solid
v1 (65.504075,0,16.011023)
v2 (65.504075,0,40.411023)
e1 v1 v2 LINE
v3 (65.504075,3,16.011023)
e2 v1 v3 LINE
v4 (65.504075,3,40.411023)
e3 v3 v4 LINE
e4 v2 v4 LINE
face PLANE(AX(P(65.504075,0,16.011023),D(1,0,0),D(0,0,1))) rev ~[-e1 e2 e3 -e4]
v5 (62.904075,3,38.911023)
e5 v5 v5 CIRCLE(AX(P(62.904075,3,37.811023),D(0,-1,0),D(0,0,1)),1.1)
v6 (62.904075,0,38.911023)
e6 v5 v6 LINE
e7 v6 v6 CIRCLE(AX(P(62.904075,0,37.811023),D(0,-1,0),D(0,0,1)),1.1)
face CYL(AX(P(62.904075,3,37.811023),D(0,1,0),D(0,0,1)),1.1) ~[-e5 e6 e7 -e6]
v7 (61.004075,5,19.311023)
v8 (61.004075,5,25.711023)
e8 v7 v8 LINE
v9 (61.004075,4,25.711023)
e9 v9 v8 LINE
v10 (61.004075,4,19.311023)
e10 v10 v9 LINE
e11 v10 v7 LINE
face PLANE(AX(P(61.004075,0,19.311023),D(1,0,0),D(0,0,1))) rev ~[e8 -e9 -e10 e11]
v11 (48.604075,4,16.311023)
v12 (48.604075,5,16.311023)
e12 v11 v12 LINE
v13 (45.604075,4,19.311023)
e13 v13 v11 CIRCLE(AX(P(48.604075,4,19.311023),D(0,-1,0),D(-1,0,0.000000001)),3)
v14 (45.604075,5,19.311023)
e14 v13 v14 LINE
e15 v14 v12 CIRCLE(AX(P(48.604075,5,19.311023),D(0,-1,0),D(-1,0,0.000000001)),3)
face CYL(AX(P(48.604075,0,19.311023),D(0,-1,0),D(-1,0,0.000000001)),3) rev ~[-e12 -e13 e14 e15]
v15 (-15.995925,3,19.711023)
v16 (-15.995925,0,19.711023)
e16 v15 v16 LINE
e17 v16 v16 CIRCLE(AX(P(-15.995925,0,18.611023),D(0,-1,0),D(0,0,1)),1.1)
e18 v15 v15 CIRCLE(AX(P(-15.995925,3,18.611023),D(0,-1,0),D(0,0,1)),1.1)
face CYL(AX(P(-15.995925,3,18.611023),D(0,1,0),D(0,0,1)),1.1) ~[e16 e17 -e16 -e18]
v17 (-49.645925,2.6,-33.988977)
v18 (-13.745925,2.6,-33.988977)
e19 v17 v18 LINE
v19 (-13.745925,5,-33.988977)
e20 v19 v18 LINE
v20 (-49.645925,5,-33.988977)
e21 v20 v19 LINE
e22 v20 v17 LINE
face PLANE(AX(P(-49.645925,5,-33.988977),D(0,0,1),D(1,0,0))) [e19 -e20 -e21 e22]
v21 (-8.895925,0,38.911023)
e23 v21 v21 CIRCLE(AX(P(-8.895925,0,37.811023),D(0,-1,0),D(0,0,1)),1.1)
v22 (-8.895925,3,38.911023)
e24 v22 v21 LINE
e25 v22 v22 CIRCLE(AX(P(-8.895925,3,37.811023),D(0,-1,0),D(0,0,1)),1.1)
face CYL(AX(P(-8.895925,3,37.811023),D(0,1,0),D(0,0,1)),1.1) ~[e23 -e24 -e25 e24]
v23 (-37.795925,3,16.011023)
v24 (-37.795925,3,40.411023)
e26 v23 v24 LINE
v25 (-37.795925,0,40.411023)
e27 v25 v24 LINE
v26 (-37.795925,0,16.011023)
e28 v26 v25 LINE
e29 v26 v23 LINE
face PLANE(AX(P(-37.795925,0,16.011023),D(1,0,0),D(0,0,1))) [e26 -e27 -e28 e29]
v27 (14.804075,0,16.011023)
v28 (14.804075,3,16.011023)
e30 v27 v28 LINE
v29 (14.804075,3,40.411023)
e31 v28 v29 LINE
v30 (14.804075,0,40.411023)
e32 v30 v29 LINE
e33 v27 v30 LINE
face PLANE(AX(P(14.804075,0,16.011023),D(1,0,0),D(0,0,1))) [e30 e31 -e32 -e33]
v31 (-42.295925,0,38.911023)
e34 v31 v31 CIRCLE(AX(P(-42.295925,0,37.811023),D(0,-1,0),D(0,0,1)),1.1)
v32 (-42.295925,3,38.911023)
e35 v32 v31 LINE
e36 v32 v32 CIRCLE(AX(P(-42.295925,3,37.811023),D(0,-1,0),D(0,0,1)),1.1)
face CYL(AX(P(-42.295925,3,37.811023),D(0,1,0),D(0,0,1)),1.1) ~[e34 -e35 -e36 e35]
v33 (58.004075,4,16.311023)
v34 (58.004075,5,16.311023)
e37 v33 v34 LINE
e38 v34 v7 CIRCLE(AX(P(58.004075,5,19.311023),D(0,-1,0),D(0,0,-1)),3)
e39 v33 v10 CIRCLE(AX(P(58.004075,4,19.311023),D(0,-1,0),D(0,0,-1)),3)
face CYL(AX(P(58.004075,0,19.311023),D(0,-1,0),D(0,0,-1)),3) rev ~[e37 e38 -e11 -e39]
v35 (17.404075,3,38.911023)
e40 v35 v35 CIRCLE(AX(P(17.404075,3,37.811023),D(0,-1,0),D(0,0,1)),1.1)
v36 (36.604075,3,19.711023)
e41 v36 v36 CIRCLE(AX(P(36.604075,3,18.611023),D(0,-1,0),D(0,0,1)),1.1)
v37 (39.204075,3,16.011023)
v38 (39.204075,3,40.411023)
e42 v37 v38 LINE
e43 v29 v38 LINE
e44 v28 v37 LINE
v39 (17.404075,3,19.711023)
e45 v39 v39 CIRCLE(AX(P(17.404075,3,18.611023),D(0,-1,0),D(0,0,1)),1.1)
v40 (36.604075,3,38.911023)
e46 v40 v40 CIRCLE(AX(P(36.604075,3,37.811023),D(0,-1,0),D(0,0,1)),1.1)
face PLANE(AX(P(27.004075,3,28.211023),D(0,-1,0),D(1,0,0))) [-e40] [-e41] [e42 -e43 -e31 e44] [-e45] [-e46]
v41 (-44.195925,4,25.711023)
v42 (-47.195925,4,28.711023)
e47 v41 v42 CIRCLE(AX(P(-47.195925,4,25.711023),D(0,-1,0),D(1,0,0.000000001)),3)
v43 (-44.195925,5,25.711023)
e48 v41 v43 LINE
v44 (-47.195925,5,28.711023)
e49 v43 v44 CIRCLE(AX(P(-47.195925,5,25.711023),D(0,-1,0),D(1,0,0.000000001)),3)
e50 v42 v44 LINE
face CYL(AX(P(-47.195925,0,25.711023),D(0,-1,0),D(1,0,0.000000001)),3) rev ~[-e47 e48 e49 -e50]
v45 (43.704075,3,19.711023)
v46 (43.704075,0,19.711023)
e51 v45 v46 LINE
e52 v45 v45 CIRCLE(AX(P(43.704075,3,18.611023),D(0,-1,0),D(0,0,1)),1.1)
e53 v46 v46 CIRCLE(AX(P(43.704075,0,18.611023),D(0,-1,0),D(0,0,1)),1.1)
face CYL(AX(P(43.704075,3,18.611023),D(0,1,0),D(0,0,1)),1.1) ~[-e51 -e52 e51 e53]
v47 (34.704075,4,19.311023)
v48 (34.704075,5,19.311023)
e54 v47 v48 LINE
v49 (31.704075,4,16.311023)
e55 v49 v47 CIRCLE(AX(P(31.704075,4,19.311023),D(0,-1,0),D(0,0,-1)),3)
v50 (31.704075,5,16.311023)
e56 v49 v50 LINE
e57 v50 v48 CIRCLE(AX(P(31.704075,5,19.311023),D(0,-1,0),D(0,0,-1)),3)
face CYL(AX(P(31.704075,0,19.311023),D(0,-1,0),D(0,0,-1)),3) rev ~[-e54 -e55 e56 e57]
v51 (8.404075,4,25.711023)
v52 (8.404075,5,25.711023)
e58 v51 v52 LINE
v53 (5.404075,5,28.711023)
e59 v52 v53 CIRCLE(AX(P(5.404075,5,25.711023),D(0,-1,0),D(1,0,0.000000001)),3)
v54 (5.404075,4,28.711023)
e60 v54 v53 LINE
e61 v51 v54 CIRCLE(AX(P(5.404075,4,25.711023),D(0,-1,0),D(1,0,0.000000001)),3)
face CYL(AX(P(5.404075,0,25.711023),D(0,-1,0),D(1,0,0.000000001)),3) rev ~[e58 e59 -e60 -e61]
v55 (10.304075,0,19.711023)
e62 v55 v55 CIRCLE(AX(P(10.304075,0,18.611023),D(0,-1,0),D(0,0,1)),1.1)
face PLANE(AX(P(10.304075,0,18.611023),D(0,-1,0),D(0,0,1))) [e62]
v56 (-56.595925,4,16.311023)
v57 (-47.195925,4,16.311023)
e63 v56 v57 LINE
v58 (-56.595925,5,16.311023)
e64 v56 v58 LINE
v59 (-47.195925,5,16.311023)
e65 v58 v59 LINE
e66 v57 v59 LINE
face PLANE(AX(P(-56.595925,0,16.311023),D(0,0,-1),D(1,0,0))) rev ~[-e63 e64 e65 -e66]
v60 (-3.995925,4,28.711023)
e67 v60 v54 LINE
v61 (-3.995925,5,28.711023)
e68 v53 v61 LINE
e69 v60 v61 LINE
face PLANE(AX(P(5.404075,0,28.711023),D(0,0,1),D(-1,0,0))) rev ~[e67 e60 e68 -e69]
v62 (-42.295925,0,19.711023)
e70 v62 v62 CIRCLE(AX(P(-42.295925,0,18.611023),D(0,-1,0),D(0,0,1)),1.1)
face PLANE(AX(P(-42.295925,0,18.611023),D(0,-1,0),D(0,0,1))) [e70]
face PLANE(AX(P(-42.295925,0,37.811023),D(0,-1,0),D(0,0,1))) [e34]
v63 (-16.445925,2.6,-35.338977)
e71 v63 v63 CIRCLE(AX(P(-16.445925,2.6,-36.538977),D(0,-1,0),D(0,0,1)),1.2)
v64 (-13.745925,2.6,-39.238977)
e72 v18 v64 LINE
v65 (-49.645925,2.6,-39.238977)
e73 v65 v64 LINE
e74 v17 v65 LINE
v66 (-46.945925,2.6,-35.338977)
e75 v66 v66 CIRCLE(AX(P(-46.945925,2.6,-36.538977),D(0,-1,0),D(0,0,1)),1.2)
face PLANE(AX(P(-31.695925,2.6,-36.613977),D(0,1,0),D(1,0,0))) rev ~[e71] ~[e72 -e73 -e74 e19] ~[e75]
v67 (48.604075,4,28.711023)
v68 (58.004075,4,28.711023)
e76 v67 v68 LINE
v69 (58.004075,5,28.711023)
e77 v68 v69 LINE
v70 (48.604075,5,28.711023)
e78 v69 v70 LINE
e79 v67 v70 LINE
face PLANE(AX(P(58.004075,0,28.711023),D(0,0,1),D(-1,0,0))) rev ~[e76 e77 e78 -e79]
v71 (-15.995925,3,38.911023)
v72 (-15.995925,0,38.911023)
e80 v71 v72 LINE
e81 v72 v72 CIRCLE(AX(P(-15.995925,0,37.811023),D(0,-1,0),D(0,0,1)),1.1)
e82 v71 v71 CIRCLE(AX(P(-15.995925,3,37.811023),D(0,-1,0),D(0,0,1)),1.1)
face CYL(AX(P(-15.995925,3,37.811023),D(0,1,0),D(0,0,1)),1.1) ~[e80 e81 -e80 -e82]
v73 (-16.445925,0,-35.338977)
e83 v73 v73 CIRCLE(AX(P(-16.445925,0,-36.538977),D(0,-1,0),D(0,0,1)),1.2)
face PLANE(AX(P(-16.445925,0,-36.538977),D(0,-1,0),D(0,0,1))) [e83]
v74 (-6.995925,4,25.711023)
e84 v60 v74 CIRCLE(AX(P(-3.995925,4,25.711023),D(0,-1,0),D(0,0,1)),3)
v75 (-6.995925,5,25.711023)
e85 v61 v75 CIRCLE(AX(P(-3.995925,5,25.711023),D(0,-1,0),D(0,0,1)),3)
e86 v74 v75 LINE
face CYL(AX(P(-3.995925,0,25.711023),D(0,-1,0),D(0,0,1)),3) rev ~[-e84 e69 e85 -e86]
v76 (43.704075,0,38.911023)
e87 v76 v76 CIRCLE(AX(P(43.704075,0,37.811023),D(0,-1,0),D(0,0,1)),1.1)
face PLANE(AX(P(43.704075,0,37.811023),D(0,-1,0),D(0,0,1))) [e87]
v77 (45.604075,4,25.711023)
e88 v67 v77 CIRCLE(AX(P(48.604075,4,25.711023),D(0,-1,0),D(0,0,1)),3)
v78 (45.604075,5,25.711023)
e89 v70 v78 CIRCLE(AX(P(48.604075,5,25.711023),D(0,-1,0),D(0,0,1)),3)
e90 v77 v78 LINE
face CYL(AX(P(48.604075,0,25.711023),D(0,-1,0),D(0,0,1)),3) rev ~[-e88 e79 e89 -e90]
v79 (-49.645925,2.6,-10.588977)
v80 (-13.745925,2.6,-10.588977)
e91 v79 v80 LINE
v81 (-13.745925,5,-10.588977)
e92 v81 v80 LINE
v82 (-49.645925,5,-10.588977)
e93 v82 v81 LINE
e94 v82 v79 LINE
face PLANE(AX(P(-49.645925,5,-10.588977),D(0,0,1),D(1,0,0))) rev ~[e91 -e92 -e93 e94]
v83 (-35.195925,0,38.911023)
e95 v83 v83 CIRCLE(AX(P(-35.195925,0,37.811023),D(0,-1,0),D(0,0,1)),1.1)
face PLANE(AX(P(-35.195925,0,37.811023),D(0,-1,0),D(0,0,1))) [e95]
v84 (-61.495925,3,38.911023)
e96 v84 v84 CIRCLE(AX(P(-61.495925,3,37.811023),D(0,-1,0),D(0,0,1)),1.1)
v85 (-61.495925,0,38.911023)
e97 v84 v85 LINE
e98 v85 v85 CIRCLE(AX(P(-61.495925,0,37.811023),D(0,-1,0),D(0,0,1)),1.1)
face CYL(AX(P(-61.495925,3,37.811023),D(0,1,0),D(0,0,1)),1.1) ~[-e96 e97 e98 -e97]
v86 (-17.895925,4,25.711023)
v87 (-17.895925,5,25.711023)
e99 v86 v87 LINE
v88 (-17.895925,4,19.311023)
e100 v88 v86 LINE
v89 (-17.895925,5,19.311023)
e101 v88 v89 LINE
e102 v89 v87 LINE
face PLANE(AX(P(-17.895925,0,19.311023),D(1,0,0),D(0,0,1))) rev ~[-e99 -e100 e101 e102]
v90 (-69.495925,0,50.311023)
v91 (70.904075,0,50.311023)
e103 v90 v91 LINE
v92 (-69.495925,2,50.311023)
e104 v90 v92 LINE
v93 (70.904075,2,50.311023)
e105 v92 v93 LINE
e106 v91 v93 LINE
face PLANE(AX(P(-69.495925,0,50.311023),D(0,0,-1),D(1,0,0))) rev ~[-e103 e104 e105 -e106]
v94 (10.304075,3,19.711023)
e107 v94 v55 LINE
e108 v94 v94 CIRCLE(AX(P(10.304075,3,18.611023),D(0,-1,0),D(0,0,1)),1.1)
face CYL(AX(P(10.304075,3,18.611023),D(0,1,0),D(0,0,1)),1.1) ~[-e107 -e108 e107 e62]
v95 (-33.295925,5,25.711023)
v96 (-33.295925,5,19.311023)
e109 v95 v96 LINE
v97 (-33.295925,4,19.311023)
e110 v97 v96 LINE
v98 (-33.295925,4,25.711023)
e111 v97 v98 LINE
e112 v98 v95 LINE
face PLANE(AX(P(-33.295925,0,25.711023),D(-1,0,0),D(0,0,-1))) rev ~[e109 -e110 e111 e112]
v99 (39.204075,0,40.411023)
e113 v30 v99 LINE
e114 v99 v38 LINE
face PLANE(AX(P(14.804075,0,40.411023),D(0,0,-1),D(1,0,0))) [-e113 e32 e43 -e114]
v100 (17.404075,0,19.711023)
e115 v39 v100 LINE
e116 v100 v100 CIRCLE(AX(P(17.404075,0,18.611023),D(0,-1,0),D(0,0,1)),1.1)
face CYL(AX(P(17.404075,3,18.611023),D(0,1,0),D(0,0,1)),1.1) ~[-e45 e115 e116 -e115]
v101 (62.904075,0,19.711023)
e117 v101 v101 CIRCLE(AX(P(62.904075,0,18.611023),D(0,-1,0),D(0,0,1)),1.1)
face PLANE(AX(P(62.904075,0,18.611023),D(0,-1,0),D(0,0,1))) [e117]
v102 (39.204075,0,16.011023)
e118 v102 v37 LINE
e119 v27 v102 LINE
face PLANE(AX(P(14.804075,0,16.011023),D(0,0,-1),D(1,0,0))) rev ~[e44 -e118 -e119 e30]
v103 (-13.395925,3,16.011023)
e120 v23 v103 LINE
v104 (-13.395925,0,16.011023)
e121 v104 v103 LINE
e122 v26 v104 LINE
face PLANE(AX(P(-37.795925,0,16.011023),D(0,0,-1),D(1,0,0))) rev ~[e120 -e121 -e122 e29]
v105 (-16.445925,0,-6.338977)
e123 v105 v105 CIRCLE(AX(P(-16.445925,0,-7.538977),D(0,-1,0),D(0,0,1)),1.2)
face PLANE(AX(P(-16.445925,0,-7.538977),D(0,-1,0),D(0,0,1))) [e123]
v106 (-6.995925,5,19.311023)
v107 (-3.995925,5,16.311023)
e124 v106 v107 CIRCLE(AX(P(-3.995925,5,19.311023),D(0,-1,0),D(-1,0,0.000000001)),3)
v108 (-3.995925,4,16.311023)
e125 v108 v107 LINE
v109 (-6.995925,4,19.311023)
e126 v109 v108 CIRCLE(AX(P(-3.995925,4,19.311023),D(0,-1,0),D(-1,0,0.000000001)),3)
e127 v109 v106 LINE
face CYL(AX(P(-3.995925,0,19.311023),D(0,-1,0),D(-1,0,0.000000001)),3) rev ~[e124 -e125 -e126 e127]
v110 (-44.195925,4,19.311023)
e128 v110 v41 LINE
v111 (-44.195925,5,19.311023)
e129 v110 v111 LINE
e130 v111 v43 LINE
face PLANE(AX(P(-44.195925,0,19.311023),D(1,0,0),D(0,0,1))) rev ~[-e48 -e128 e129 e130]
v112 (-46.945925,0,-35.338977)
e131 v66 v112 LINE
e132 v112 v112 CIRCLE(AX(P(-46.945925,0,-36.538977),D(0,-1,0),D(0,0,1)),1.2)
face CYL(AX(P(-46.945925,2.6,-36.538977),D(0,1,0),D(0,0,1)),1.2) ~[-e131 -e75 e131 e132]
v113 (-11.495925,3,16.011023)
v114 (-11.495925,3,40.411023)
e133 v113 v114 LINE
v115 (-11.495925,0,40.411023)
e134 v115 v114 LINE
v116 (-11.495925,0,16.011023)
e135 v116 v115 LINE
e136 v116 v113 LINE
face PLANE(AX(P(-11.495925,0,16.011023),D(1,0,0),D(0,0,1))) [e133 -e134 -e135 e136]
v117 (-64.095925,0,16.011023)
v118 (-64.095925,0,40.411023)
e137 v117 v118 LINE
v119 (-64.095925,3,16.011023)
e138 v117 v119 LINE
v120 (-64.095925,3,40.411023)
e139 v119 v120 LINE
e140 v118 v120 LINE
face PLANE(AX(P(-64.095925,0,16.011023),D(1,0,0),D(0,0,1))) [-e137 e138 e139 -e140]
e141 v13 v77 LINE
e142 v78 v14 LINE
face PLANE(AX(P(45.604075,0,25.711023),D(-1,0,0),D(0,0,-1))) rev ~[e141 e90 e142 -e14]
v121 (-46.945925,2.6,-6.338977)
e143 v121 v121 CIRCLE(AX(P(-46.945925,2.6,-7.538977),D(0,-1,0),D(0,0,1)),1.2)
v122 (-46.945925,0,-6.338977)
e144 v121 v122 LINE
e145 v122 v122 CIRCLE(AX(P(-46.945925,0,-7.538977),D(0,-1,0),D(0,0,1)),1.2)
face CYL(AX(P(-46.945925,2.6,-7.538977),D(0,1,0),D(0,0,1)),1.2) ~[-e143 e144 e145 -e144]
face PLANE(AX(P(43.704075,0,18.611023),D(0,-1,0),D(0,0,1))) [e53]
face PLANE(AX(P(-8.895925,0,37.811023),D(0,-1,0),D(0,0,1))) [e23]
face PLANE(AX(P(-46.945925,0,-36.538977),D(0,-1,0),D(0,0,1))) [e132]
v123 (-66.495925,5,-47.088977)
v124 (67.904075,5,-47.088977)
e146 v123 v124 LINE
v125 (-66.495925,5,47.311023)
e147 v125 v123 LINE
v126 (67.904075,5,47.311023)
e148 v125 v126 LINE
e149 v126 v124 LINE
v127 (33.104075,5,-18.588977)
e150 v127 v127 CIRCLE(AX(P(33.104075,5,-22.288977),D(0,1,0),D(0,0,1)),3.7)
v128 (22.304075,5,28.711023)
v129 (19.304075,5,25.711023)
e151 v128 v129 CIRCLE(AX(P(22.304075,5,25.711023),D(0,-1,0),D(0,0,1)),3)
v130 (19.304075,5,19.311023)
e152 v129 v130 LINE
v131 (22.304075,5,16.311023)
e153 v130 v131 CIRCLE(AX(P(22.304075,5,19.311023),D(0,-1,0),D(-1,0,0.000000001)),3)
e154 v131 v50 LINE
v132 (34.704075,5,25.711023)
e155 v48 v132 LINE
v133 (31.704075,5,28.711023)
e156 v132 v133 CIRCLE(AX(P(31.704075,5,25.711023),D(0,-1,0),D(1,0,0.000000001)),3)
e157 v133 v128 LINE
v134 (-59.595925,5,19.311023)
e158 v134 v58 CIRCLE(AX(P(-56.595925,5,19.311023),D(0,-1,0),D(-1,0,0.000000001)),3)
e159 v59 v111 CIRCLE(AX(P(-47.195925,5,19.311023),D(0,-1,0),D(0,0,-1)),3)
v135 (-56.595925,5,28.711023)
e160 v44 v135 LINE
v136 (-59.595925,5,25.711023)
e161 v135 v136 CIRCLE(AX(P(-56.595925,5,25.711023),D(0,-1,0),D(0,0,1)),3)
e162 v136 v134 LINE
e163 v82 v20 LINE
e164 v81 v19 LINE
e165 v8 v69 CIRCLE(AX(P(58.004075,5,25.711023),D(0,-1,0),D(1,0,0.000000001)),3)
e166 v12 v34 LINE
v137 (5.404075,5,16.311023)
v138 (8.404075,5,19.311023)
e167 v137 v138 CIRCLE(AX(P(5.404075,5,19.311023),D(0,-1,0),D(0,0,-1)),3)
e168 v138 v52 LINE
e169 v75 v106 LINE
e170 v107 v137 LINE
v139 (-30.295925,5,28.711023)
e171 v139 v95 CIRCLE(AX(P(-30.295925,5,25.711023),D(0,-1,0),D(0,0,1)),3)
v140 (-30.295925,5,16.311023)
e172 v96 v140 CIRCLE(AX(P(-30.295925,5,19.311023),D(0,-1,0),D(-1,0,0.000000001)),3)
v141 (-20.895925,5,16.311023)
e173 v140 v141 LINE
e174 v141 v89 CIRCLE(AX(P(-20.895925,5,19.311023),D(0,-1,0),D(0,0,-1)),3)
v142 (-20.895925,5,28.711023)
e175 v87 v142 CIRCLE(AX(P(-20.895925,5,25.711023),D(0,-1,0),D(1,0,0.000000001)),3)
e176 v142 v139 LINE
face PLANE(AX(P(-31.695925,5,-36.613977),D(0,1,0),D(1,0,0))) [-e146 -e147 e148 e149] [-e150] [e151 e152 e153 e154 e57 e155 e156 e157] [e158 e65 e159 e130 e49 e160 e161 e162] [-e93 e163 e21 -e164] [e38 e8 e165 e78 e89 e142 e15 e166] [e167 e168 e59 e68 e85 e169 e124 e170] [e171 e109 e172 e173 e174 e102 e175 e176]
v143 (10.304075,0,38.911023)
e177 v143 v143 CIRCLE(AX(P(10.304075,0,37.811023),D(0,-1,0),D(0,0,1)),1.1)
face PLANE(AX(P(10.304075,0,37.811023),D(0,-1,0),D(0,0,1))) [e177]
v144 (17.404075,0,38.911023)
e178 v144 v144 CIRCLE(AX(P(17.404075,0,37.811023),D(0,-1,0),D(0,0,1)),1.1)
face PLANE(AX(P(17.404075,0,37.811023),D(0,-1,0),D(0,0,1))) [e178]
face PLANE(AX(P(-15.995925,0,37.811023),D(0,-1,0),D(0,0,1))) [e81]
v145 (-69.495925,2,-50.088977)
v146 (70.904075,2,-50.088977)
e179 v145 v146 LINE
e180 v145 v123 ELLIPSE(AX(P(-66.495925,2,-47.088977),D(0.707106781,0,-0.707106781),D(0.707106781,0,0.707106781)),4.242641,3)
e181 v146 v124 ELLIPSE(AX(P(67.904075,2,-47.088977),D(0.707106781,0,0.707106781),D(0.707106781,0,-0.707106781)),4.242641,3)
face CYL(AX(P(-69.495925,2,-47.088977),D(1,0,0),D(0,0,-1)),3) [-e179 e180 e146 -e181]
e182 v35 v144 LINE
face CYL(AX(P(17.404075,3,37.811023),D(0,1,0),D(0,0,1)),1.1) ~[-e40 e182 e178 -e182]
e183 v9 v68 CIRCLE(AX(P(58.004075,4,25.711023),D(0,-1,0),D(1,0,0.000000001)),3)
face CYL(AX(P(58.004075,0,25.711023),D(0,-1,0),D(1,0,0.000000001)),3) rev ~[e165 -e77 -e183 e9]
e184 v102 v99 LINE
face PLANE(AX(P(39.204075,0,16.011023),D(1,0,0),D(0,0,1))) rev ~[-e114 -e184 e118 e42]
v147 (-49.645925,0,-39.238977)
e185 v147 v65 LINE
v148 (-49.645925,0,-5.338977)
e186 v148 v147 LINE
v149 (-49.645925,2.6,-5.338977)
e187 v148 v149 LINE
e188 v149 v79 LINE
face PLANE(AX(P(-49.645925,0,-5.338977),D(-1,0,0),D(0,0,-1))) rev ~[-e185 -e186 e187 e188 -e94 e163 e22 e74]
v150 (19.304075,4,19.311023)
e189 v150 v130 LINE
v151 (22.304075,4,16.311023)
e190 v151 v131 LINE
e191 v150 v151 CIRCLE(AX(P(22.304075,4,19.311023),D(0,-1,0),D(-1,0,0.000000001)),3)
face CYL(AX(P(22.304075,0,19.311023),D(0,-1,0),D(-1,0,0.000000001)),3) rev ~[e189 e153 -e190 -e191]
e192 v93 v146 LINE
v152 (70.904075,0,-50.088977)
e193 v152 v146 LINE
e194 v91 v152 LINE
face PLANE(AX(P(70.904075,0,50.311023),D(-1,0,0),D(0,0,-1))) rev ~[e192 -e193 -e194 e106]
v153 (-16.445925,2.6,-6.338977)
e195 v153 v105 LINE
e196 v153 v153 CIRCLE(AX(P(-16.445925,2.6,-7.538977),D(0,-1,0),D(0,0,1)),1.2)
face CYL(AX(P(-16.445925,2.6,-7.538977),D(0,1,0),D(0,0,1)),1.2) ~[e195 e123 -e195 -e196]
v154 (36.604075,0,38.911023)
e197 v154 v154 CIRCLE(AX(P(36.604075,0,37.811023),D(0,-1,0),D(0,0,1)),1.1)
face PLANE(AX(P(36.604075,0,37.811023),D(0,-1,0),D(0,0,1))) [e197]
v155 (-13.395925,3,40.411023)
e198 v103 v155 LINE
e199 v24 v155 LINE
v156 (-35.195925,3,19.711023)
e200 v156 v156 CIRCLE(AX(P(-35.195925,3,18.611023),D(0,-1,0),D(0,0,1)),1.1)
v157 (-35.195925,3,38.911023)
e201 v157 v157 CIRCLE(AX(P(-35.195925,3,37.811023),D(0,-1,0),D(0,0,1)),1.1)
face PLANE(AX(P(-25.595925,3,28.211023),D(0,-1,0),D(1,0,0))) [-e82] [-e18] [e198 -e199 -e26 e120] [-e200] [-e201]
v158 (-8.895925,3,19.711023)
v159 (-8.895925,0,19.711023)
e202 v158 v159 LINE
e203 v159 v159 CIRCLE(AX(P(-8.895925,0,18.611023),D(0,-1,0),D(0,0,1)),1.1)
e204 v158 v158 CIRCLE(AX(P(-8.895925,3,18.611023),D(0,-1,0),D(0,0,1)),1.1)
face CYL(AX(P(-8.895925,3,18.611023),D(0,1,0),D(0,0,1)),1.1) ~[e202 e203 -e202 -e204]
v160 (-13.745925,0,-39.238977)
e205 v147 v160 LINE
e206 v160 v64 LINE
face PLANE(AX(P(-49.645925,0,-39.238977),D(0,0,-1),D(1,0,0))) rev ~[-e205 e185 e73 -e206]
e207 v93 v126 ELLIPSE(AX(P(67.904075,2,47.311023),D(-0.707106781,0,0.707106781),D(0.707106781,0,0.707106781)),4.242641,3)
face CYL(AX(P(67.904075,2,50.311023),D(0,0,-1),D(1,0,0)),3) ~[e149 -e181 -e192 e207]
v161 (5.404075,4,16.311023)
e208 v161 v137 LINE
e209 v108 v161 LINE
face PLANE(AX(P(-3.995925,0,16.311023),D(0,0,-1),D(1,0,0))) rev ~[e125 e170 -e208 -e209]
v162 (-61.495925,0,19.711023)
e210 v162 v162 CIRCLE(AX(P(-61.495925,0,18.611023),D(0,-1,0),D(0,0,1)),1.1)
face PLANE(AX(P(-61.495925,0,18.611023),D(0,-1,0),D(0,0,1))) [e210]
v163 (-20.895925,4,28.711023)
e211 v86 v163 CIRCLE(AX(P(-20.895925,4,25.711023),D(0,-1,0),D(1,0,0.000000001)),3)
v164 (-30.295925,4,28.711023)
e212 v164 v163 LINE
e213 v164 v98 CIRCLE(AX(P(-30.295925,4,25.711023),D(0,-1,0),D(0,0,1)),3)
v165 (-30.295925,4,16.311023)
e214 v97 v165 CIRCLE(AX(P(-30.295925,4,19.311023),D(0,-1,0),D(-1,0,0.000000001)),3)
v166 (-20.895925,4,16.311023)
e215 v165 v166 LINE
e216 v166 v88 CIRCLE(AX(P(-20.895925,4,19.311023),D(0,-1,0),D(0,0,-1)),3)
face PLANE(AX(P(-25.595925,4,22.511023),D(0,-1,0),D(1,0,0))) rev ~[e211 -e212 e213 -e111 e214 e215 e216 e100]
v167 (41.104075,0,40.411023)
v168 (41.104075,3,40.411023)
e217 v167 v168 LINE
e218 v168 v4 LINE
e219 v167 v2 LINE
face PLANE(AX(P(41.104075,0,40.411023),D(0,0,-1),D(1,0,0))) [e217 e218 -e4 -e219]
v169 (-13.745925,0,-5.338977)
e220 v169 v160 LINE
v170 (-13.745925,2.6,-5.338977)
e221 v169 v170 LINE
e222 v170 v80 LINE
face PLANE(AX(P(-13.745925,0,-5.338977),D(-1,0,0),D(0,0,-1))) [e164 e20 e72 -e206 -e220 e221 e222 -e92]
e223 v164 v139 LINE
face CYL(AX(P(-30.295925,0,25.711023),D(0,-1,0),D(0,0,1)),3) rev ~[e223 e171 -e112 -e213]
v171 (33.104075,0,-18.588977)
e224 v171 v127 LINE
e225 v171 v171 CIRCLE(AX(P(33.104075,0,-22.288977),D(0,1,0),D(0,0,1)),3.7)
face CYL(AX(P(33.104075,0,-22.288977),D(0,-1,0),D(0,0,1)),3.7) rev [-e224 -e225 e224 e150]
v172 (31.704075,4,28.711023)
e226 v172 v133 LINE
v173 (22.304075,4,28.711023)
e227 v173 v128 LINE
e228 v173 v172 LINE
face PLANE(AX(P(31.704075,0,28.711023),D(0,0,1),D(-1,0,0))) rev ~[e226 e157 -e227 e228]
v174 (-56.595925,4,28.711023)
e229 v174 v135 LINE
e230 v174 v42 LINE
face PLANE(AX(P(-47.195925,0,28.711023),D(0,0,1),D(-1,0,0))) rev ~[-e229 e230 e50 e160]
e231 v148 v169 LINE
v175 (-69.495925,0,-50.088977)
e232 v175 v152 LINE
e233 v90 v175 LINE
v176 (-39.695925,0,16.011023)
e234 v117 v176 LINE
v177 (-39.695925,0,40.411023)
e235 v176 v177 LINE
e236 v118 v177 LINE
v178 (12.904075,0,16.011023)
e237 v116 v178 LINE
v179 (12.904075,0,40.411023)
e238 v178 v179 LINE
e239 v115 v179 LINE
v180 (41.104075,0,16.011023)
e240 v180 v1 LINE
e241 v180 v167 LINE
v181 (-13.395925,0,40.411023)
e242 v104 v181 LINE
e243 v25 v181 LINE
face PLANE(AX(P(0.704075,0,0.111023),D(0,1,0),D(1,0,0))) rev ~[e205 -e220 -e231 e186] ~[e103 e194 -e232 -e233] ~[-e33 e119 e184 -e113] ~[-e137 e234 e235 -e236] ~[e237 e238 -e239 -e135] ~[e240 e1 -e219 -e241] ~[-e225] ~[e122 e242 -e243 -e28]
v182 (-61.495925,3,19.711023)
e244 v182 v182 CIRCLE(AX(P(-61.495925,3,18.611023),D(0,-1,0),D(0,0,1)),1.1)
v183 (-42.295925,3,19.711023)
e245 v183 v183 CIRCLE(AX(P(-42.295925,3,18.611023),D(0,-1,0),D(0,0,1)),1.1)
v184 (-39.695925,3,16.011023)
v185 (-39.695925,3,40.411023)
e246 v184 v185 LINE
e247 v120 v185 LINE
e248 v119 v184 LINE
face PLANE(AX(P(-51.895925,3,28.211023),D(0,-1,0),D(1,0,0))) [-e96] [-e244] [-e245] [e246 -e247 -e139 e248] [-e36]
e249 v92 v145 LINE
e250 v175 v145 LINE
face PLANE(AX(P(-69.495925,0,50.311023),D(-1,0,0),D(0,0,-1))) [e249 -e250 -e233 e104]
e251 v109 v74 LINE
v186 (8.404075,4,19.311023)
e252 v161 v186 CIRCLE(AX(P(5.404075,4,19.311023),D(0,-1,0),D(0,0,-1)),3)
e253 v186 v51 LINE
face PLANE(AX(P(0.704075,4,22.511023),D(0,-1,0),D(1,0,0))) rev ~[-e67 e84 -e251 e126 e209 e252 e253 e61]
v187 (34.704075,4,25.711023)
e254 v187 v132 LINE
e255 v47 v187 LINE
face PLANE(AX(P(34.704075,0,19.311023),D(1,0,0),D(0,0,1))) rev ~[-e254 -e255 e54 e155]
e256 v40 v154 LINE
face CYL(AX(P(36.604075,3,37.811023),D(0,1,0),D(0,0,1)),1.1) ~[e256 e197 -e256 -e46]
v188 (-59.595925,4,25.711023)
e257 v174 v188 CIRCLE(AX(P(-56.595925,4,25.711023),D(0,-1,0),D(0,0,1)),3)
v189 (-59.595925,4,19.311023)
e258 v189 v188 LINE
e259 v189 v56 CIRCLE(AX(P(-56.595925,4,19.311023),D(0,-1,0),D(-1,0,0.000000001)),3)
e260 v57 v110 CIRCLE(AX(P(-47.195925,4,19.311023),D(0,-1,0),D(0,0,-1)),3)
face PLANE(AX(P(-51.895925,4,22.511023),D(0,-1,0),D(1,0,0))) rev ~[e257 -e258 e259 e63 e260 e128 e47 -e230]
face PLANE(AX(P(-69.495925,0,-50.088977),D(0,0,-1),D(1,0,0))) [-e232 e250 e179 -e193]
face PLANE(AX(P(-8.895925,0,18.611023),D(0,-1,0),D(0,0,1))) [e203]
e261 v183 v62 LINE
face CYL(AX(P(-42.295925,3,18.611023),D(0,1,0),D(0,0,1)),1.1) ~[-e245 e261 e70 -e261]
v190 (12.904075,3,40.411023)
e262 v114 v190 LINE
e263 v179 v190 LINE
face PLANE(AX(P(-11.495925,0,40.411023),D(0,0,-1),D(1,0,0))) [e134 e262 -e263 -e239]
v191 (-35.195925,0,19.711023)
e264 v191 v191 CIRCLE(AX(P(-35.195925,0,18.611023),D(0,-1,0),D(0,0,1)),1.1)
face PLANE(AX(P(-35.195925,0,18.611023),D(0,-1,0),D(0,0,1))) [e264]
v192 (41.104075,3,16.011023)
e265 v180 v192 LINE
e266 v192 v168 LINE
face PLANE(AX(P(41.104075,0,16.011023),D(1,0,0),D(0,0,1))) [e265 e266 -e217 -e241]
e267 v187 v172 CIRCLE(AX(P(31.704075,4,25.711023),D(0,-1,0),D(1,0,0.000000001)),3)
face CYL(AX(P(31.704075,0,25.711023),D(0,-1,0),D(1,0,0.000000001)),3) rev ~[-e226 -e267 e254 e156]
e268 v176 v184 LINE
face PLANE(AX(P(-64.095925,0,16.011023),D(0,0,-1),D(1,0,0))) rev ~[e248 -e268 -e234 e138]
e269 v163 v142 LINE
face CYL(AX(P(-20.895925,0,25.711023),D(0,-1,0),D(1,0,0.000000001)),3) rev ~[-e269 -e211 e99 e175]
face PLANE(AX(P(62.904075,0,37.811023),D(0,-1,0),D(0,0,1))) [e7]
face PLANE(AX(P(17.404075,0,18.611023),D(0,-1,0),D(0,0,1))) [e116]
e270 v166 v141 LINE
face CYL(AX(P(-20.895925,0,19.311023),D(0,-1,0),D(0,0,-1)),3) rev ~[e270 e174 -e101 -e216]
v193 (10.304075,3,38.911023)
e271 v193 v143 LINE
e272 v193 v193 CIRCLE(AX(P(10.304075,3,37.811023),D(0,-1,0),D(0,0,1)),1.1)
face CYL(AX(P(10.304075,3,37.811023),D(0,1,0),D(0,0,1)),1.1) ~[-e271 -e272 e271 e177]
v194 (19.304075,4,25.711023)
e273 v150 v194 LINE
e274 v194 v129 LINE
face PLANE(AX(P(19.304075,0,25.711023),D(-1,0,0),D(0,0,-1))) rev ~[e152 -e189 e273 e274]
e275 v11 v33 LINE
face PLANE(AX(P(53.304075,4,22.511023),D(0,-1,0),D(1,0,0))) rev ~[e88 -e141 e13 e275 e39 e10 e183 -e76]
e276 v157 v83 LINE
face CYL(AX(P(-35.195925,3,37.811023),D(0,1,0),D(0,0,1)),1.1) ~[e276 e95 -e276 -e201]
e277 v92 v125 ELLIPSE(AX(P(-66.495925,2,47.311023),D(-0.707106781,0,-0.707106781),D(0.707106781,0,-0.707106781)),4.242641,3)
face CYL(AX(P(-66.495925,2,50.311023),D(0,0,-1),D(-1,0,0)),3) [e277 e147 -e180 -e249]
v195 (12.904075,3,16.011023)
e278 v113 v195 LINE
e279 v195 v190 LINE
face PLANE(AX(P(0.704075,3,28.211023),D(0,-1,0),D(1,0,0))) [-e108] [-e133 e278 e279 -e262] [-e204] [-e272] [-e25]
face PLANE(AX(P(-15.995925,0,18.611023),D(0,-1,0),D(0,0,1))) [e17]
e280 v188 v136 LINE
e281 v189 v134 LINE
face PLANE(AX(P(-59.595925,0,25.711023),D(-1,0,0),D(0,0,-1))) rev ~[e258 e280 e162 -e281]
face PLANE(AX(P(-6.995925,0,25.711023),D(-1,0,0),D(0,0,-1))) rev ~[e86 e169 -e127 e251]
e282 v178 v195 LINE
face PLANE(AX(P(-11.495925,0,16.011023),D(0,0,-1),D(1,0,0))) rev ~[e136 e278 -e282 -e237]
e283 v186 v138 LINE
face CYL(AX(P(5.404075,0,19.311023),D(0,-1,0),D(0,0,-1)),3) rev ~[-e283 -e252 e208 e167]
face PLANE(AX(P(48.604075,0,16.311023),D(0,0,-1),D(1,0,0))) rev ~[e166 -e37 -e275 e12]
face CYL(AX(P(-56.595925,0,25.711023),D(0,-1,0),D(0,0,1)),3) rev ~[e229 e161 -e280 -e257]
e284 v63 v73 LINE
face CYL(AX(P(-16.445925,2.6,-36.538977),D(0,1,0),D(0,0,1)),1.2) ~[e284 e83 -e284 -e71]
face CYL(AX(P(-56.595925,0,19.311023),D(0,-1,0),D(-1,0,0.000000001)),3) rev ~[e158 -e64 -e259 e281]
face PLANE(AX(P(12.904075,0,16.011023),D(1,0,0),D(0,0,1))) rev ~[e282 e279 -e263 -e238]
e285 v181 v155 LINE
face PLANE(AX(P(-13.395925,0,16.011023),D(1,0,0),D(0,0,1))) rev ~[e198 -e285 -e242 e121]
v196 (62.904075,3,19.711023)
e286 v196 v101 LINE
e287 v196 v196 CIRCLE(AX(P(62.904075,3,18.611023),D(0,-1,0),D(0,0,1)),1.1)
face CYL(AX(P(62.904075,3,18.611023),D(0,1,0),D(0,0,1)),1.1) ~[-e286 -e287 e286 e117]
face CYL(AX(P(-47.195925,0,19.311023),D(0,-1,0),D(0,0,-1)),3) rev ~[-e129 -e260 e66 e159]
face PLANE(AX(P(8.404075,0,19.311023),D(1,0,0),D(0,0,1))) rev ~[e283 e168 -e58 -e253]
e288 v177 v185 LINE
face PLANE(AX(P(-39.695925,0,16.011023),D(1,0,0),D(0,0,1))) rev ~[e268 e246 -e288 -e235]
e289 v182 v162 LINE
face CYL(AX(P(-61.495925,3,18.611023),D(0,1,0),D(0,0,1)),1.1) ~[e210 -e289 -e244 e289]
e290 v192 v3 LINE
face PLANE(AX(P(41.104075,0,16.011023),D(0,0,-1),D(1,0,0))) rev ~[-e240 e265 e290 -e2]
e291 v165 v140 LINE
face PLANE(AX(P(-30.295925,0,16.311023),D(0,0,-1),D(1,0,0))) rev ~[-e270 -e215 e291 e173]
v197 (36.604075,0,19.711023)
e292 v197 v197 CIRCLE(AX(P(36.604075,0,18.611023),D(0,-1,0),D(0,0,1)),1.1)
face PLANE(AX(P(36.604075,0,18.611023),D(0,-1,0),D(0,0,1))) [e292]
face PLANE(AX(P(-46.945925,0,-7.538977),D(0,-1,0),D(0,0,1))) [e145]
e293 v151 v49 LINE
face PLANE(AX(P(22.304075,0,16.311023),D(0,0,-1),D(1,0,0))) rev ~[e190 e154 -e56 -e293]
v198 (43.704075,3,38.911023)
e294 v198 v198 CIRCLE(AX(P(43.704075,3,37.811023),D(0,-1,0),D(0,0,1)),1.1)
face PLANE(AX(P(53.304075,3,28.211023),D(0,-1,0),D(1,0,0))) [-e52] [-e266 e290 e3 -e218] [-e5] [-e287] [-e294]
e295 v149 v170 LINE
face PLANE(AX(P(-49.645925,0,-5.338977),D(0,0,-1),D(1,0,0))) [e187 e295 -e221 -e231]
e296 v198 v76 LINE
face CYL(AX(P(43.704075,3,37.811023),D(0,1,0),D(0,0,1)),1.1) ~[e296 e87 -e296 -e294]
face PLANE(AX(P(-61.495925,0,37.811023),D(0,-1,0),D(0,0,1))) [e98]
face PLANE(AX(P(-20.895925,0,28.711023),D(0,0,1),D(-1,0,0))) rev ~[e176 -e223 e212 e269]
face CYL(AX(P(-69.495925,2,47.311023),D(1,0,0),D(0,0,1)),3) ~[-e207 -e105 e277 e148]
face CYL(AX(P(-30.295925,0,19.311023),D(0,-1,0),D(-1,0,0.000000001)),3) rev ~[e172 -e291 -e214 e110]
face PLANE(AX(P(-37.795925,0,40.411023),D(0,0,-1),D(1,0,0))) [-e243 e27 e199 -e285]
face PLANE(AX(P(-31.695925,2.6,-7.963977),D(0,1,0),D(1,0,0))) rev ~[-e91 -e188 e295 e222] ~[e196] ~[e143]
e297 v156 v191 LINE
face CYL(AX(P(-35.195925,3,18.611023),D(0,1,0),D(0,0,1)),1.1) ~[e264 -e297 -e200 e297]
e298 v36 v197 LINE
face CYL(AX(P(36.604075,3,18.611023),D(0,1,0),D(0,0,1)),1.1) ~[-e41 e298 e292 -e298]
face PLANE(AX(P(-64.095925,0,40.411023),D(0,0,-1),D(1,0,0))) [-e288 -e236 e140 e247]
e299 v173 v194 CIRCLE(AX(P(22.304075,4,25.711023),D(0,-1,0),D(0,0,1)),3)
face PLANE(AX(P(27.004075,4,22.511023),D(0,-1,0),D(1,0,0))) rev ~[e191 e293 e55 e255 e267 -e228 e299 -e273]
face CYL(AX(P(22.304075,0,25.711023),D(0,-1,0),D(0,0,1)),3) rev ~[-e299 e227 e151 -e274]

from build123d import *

# Parameters (mm, degrees)
SKETCH1_W           = 140.4
SKETCH1_H           = 100.4
SKETCH1_W_2         = 35.9
SKETCH1_H_2         = 33.9
SKETCH1_R           = 3.7
BOSS_EXTRUDE1_DEPTH = 5
FILLET1_R           = 3
SKETCH3_W           = 35.9
SKETCH3_H           = 5.25
BOSS_EXTRUDE2_DEPTH = 2.4
BOSS_EXTRUDE3_START = -2.6
SKETCH4_R           = 1.2
BOSS_EXTRUDE3_DEPTH = 2.6
SKETCH6_W           = 24.4
SKETCH6_H           = 24.4
CUT_EXTRUDE1_DEPTH  = 3
LPATTERN1_COUNT     = 5
LPATTERN1_PITCH     = 26.3
SKETCH7_R           = 1.1
BOSS_EXTRUDE4_DEPTH = 3
LPATTERN2_COUNT     = 5
LPATTERN2_PITCH     = 26.3
SKETCH9_W           = 15.4
SKETCH9_H           = 12.4
BOSS_EXTRUDE5_DEPTH = 1
LPATTERN3_COUNT     = 5
LPATTERN3_PITCH     = 26.3


with BuildPart() as part:
    # Sketch1 → Boss-Extrude1 (new body)
    with BuildSketch(Plane(origin=(0, 0, 0), x_dir=(1, 0, 0), z_dir=(0, 1, 0))):
        with Locations((0.704074767, -0.111023374)):
            Rectangle(SKETCH1_W, SKETCH1_H)
        with Locations((-31.695925233, 22.288976626)):
            Rectangle(SKETCH1_W_2, SKETCH1_H_2, mode=Mode.SUBTRACT)
        with Locations(Location((33.104074767, 22.288976626, 0), (0, 0, 270))):
            Circle(SKETCH1_R, mode=Mode.SUBTRACT)
        with BuildLine():
            Line((-47.195925233, -28.711023374), (-56.595925233, -28.711023374))
            ThreePointArc((-56.595925233, -28.711023374), (-58.717245577, -27.832343717), (-59.595925233, -25.711023374))
            Line((-59.595925233, -25.711023374), (-59.595925233, -19.311023374))
            ThreePointArc((-59.595925233, -19.311023374), (-58.717245577, -17.18970303), (-56.595925233, -16.311023374))
            Line((-56.595925233, -16.311023374), (-47.195925233, -16.311023374))
            ThreePointArc((-47.195925233, -16.311023374), (-45.07460489, -17.18970303), (-44.195925233, -19.311023374))
            Line((-44.195925233, -19.311023374), (-44.195925233, -25.711023374))
            ThreePointArc((-44.195925233, -25.711023374), (-45.07460489, -27.832343717), (-47.195925233, -28.711023374))
        make_face(mode=Mode.SUBTRACT)
        with BuildLine():
            ThreePointArc((-33.295925233, -19.311023374), (-32.417245577, -17.18970303), (-30.295925233, -16.311023374))
            Line((-30.295925233, -16.311023374), (-20.895925233, -16.311023374))
            ThreePointArc((-20.895925233, -16.311023374), (-18.77460489, -17.18970303), (-17.895925233, -19.311023374))
            Line((-17.895925233, -19.311023374), (-17.895925233, -25.711023374))
            ThreePointArc((-17.895925233, -25.711023374), (-18.77460489, -27.832343717), (-20.895925233, -28.711023374))
            Line((-20.895925233, -28.711023374), (-30.295925233, -28.711023374))
            ThreePointArc((-30.295925233, -28.711023374), (-32.417245577, -27.832343717), (-33.295925233, -25.711023374))
            Line((-33.295925233, -25.711023374), (-33.295925233, -19.311023374))
        make_face(mode=Mode.SUBTRACT)
        with BuildLine():
            ThreePointArc((-6.995925233, -19.311023374), (-6.117245577, -17.18970303), (-3.995925233, -16.311023374))
            Line((-3.995925233, -16.311023374), (5.404074767, -16.311023374))
            ThreePointArc((5.404074767, -16.311023374), (7.52539511, -17.18970303), (8.404074767, -19.311023374))
            Line((8.404074767, -19.311023374), (8.404074767, -25.711023374))
            ThreePointArc((8.404074767, -25.711023374), (7.52539511, -27.832343717), (5.404074767, -28.711023374))
            Line((5.404074767, -28.711023374), (-3.995925233, -28.711023374))
            ThreePointArc((-3.995925233, -28.711023374), (-6.117245577, -27.832343717), (-6.995925233, -25.711023374))
            Line((-6.995925233, -25.711023374), (-6.995925233, -19.311023374))
        make_face(mode=Mode.SUBTRACT)
        with BuildLine():
            ThreePointArc((19.304074767, -19.311023374), (20.182754423, -17.18970303), (22.304074767, -16.311023374))
            Line((22.304074767, -16.311023374), (31.704074767, -16.311023374))
            ThreePointArc((31.704074767, -16.311023374), (33.82539511, -17.18970303), (34.704074767, -19.311023374))
            Line((34.704074767, -19.311023374), (34.704074767, -25.711023374))
            ThreePointArc((34.704074767, -25.711023374), (33.82539511, -27.832343717), (31.704074767, -28.711023374))
            Line((31.704074767, -28.711023374), (22.304074767, -28.711023374))
            ThreePointArc((22.304074767, -28.711023374), (20.182754423, -27.832343717), (19.304074767, -25.711023374))
            Line((19.304074767, -25.711023374), (19.304074767, -19.311023374))
        make_face(mode=Mode.SUBTRACT)
        with BuildLine():
            ThreePointArc((45.604074767, -19.311023374), (46.482754423, -17.18970303), (48.604074767, -16.311023374))
            Line((48.604074767, -16.311023374), (58.004074767, -16.311023374))
            ThreePointArc((58.004074767, -16.311023374), (60.12539511, -17.18970303), (61.004074767, -19.311023374))
            Line((61.004074767, -19.311023374), (61.004074767, -25.711023374))
            ThreePointArc((61.004074767, -25.711023374), (60.12539511, -27.832343717), (58.004074767, -28.711023374))
            Line((58.004074767, -28.711023374), (48.604074767, -28.711023374))
            ThreePointArc((48.604074767, -28.711023374), (46.482754423, -27.832343717), (45.604074767, -25.711023374))
            Line((45.604074767, -25.711023374), (45.604074767, -19.311023374))
        make_face(mode=Mode.SUBTRACT)
    extrude(amount=BOSS_EXTRUDE1_DEPTH)

    # Fillet1
    fillet1_edges = [part.edges().sort_by_distance(p)[0] for p in [
        (0.704074767, 5, 50.311023374),
        (70.904074767, 5, 0.111023374),
        (0.704074767, 5, -50.088976626),
        (-69.495925233, 5, 0.111023374),
    ]]
    fillet(fillet1_edges, radius=FILLET1_R)

    # Sketch3 → Boss-Extrude2 (add)
    with BuildSketch(Plane(origin=(0, 5, 0), x_dir=(1, 0, 0), z_dir=(0, 1, 0))):
        with Locations((-31.695925233, 36.613976626)):
            Rectangle(SKETCH3_W, SKETCH3_H)
        with Locations((-31.695925233, 7.963976626)):
            Rectangle(SKETCH3_W, SKETCH3_H)
    extrude(amount=-BOSS_EXTRUDE2_DEPTH)

    # Sketch4 → Boss-Extrude3 (add)
    with BuildSketch(Plane.XZ.offset(BOSS_EXTRUDE3_START)):
        with Locations(Location((-16.445925233, -36.538976626, 0), (0, 0, 90))):
            Circle(SKETCH4_R)
        with Locations(Location((-46.945925233, -36.538976626, 0), (0, 0, 90))):
            Circle(SKETCH4_R)
        with Locations(Location((-16.445925233, -7.538976626, 0), (0, 0, 90))):
            Circle(SKETCH4_R)
        with Locations(Location((-46.945925233, -7.538976626, 0), (0, 0, 90))):
            Circle(SKETCH4_R)
    extrude(amount=BOSS_EXTRUDE3_DEPTH)

    # Sketch6 → Cut-Extrude1 (cut)
    with BuildSketch(Plane.XZ):
        with Locations((-51.895925233, 28.211023374)):
            Rectangle(SKETCH6_W, SKETCH6_H)
    cut_extrude1 = extrude(amount=-CUT_EXTRUDE1_DEPTH, mode=Mode.SUBTRACT)

    # LPattern1: Cut-Extrude1 ×5
    with Locations(*[(i * LPATTERN1_PITCH, 0, 0) for i in range(1, LPATTERN1_COUNT)]):
        add(cut_extrude1, mode=Mode.SUBTRACT)

    # Sketch7 → Boss-Extrude4 (add)
    with BuildSketch(Plane.XZ.offset(-3)):
        with Locations(Location((-61.495925233, 37.811023374, 0), (0, 0, 90))):
            Circle(SKETCH7_R)
        with Locations(Location((-42.295925233, 37.811023374, 0), (0, 0, 90))):
            Circle(SKETCH7_R)
        with Locations(Location((-61.495925233, 18.611023374, 0), (0, 0, 90))):
            Circle(SKETCH7_R)
        with Locations(Location((-42.295925233, 18.611023374, 0), (0, 0, 90))):
            Circle(SKETCH7_R)
    boss_extrude4 = extrude(amount=BOSS_EXTRUDE4_DEPTH)

    # LPattern2: Boss-Extrude4 ×5
    with Locations(*[(i * LPATTERN2_PITCH, 0, 0) for i in range(1, LPATTERN2_COUNT)]):
        add(boss_extrude4)

    # Sketch9 → Boss-Extrude5 (add)
    with BuildSketch(Plane.XZ.offset(-3)):
        with Locations((-51.895925233, 22.511023374)):
            Rectangle(SKETCH9_W, SKETCH9_H)
    boss_extrude5 = extrude(amount=-BOSS_EXTRUDE5_DEPTH)

    # LPattern3: Boss-Extrude5 ×5
    with Locations(*[(i * LPATTERN3_PITCH, 0, 0) for i in range(1, LPATTERN3_COUNT)]):
        add(boss_extrude5)


solid = part.part
